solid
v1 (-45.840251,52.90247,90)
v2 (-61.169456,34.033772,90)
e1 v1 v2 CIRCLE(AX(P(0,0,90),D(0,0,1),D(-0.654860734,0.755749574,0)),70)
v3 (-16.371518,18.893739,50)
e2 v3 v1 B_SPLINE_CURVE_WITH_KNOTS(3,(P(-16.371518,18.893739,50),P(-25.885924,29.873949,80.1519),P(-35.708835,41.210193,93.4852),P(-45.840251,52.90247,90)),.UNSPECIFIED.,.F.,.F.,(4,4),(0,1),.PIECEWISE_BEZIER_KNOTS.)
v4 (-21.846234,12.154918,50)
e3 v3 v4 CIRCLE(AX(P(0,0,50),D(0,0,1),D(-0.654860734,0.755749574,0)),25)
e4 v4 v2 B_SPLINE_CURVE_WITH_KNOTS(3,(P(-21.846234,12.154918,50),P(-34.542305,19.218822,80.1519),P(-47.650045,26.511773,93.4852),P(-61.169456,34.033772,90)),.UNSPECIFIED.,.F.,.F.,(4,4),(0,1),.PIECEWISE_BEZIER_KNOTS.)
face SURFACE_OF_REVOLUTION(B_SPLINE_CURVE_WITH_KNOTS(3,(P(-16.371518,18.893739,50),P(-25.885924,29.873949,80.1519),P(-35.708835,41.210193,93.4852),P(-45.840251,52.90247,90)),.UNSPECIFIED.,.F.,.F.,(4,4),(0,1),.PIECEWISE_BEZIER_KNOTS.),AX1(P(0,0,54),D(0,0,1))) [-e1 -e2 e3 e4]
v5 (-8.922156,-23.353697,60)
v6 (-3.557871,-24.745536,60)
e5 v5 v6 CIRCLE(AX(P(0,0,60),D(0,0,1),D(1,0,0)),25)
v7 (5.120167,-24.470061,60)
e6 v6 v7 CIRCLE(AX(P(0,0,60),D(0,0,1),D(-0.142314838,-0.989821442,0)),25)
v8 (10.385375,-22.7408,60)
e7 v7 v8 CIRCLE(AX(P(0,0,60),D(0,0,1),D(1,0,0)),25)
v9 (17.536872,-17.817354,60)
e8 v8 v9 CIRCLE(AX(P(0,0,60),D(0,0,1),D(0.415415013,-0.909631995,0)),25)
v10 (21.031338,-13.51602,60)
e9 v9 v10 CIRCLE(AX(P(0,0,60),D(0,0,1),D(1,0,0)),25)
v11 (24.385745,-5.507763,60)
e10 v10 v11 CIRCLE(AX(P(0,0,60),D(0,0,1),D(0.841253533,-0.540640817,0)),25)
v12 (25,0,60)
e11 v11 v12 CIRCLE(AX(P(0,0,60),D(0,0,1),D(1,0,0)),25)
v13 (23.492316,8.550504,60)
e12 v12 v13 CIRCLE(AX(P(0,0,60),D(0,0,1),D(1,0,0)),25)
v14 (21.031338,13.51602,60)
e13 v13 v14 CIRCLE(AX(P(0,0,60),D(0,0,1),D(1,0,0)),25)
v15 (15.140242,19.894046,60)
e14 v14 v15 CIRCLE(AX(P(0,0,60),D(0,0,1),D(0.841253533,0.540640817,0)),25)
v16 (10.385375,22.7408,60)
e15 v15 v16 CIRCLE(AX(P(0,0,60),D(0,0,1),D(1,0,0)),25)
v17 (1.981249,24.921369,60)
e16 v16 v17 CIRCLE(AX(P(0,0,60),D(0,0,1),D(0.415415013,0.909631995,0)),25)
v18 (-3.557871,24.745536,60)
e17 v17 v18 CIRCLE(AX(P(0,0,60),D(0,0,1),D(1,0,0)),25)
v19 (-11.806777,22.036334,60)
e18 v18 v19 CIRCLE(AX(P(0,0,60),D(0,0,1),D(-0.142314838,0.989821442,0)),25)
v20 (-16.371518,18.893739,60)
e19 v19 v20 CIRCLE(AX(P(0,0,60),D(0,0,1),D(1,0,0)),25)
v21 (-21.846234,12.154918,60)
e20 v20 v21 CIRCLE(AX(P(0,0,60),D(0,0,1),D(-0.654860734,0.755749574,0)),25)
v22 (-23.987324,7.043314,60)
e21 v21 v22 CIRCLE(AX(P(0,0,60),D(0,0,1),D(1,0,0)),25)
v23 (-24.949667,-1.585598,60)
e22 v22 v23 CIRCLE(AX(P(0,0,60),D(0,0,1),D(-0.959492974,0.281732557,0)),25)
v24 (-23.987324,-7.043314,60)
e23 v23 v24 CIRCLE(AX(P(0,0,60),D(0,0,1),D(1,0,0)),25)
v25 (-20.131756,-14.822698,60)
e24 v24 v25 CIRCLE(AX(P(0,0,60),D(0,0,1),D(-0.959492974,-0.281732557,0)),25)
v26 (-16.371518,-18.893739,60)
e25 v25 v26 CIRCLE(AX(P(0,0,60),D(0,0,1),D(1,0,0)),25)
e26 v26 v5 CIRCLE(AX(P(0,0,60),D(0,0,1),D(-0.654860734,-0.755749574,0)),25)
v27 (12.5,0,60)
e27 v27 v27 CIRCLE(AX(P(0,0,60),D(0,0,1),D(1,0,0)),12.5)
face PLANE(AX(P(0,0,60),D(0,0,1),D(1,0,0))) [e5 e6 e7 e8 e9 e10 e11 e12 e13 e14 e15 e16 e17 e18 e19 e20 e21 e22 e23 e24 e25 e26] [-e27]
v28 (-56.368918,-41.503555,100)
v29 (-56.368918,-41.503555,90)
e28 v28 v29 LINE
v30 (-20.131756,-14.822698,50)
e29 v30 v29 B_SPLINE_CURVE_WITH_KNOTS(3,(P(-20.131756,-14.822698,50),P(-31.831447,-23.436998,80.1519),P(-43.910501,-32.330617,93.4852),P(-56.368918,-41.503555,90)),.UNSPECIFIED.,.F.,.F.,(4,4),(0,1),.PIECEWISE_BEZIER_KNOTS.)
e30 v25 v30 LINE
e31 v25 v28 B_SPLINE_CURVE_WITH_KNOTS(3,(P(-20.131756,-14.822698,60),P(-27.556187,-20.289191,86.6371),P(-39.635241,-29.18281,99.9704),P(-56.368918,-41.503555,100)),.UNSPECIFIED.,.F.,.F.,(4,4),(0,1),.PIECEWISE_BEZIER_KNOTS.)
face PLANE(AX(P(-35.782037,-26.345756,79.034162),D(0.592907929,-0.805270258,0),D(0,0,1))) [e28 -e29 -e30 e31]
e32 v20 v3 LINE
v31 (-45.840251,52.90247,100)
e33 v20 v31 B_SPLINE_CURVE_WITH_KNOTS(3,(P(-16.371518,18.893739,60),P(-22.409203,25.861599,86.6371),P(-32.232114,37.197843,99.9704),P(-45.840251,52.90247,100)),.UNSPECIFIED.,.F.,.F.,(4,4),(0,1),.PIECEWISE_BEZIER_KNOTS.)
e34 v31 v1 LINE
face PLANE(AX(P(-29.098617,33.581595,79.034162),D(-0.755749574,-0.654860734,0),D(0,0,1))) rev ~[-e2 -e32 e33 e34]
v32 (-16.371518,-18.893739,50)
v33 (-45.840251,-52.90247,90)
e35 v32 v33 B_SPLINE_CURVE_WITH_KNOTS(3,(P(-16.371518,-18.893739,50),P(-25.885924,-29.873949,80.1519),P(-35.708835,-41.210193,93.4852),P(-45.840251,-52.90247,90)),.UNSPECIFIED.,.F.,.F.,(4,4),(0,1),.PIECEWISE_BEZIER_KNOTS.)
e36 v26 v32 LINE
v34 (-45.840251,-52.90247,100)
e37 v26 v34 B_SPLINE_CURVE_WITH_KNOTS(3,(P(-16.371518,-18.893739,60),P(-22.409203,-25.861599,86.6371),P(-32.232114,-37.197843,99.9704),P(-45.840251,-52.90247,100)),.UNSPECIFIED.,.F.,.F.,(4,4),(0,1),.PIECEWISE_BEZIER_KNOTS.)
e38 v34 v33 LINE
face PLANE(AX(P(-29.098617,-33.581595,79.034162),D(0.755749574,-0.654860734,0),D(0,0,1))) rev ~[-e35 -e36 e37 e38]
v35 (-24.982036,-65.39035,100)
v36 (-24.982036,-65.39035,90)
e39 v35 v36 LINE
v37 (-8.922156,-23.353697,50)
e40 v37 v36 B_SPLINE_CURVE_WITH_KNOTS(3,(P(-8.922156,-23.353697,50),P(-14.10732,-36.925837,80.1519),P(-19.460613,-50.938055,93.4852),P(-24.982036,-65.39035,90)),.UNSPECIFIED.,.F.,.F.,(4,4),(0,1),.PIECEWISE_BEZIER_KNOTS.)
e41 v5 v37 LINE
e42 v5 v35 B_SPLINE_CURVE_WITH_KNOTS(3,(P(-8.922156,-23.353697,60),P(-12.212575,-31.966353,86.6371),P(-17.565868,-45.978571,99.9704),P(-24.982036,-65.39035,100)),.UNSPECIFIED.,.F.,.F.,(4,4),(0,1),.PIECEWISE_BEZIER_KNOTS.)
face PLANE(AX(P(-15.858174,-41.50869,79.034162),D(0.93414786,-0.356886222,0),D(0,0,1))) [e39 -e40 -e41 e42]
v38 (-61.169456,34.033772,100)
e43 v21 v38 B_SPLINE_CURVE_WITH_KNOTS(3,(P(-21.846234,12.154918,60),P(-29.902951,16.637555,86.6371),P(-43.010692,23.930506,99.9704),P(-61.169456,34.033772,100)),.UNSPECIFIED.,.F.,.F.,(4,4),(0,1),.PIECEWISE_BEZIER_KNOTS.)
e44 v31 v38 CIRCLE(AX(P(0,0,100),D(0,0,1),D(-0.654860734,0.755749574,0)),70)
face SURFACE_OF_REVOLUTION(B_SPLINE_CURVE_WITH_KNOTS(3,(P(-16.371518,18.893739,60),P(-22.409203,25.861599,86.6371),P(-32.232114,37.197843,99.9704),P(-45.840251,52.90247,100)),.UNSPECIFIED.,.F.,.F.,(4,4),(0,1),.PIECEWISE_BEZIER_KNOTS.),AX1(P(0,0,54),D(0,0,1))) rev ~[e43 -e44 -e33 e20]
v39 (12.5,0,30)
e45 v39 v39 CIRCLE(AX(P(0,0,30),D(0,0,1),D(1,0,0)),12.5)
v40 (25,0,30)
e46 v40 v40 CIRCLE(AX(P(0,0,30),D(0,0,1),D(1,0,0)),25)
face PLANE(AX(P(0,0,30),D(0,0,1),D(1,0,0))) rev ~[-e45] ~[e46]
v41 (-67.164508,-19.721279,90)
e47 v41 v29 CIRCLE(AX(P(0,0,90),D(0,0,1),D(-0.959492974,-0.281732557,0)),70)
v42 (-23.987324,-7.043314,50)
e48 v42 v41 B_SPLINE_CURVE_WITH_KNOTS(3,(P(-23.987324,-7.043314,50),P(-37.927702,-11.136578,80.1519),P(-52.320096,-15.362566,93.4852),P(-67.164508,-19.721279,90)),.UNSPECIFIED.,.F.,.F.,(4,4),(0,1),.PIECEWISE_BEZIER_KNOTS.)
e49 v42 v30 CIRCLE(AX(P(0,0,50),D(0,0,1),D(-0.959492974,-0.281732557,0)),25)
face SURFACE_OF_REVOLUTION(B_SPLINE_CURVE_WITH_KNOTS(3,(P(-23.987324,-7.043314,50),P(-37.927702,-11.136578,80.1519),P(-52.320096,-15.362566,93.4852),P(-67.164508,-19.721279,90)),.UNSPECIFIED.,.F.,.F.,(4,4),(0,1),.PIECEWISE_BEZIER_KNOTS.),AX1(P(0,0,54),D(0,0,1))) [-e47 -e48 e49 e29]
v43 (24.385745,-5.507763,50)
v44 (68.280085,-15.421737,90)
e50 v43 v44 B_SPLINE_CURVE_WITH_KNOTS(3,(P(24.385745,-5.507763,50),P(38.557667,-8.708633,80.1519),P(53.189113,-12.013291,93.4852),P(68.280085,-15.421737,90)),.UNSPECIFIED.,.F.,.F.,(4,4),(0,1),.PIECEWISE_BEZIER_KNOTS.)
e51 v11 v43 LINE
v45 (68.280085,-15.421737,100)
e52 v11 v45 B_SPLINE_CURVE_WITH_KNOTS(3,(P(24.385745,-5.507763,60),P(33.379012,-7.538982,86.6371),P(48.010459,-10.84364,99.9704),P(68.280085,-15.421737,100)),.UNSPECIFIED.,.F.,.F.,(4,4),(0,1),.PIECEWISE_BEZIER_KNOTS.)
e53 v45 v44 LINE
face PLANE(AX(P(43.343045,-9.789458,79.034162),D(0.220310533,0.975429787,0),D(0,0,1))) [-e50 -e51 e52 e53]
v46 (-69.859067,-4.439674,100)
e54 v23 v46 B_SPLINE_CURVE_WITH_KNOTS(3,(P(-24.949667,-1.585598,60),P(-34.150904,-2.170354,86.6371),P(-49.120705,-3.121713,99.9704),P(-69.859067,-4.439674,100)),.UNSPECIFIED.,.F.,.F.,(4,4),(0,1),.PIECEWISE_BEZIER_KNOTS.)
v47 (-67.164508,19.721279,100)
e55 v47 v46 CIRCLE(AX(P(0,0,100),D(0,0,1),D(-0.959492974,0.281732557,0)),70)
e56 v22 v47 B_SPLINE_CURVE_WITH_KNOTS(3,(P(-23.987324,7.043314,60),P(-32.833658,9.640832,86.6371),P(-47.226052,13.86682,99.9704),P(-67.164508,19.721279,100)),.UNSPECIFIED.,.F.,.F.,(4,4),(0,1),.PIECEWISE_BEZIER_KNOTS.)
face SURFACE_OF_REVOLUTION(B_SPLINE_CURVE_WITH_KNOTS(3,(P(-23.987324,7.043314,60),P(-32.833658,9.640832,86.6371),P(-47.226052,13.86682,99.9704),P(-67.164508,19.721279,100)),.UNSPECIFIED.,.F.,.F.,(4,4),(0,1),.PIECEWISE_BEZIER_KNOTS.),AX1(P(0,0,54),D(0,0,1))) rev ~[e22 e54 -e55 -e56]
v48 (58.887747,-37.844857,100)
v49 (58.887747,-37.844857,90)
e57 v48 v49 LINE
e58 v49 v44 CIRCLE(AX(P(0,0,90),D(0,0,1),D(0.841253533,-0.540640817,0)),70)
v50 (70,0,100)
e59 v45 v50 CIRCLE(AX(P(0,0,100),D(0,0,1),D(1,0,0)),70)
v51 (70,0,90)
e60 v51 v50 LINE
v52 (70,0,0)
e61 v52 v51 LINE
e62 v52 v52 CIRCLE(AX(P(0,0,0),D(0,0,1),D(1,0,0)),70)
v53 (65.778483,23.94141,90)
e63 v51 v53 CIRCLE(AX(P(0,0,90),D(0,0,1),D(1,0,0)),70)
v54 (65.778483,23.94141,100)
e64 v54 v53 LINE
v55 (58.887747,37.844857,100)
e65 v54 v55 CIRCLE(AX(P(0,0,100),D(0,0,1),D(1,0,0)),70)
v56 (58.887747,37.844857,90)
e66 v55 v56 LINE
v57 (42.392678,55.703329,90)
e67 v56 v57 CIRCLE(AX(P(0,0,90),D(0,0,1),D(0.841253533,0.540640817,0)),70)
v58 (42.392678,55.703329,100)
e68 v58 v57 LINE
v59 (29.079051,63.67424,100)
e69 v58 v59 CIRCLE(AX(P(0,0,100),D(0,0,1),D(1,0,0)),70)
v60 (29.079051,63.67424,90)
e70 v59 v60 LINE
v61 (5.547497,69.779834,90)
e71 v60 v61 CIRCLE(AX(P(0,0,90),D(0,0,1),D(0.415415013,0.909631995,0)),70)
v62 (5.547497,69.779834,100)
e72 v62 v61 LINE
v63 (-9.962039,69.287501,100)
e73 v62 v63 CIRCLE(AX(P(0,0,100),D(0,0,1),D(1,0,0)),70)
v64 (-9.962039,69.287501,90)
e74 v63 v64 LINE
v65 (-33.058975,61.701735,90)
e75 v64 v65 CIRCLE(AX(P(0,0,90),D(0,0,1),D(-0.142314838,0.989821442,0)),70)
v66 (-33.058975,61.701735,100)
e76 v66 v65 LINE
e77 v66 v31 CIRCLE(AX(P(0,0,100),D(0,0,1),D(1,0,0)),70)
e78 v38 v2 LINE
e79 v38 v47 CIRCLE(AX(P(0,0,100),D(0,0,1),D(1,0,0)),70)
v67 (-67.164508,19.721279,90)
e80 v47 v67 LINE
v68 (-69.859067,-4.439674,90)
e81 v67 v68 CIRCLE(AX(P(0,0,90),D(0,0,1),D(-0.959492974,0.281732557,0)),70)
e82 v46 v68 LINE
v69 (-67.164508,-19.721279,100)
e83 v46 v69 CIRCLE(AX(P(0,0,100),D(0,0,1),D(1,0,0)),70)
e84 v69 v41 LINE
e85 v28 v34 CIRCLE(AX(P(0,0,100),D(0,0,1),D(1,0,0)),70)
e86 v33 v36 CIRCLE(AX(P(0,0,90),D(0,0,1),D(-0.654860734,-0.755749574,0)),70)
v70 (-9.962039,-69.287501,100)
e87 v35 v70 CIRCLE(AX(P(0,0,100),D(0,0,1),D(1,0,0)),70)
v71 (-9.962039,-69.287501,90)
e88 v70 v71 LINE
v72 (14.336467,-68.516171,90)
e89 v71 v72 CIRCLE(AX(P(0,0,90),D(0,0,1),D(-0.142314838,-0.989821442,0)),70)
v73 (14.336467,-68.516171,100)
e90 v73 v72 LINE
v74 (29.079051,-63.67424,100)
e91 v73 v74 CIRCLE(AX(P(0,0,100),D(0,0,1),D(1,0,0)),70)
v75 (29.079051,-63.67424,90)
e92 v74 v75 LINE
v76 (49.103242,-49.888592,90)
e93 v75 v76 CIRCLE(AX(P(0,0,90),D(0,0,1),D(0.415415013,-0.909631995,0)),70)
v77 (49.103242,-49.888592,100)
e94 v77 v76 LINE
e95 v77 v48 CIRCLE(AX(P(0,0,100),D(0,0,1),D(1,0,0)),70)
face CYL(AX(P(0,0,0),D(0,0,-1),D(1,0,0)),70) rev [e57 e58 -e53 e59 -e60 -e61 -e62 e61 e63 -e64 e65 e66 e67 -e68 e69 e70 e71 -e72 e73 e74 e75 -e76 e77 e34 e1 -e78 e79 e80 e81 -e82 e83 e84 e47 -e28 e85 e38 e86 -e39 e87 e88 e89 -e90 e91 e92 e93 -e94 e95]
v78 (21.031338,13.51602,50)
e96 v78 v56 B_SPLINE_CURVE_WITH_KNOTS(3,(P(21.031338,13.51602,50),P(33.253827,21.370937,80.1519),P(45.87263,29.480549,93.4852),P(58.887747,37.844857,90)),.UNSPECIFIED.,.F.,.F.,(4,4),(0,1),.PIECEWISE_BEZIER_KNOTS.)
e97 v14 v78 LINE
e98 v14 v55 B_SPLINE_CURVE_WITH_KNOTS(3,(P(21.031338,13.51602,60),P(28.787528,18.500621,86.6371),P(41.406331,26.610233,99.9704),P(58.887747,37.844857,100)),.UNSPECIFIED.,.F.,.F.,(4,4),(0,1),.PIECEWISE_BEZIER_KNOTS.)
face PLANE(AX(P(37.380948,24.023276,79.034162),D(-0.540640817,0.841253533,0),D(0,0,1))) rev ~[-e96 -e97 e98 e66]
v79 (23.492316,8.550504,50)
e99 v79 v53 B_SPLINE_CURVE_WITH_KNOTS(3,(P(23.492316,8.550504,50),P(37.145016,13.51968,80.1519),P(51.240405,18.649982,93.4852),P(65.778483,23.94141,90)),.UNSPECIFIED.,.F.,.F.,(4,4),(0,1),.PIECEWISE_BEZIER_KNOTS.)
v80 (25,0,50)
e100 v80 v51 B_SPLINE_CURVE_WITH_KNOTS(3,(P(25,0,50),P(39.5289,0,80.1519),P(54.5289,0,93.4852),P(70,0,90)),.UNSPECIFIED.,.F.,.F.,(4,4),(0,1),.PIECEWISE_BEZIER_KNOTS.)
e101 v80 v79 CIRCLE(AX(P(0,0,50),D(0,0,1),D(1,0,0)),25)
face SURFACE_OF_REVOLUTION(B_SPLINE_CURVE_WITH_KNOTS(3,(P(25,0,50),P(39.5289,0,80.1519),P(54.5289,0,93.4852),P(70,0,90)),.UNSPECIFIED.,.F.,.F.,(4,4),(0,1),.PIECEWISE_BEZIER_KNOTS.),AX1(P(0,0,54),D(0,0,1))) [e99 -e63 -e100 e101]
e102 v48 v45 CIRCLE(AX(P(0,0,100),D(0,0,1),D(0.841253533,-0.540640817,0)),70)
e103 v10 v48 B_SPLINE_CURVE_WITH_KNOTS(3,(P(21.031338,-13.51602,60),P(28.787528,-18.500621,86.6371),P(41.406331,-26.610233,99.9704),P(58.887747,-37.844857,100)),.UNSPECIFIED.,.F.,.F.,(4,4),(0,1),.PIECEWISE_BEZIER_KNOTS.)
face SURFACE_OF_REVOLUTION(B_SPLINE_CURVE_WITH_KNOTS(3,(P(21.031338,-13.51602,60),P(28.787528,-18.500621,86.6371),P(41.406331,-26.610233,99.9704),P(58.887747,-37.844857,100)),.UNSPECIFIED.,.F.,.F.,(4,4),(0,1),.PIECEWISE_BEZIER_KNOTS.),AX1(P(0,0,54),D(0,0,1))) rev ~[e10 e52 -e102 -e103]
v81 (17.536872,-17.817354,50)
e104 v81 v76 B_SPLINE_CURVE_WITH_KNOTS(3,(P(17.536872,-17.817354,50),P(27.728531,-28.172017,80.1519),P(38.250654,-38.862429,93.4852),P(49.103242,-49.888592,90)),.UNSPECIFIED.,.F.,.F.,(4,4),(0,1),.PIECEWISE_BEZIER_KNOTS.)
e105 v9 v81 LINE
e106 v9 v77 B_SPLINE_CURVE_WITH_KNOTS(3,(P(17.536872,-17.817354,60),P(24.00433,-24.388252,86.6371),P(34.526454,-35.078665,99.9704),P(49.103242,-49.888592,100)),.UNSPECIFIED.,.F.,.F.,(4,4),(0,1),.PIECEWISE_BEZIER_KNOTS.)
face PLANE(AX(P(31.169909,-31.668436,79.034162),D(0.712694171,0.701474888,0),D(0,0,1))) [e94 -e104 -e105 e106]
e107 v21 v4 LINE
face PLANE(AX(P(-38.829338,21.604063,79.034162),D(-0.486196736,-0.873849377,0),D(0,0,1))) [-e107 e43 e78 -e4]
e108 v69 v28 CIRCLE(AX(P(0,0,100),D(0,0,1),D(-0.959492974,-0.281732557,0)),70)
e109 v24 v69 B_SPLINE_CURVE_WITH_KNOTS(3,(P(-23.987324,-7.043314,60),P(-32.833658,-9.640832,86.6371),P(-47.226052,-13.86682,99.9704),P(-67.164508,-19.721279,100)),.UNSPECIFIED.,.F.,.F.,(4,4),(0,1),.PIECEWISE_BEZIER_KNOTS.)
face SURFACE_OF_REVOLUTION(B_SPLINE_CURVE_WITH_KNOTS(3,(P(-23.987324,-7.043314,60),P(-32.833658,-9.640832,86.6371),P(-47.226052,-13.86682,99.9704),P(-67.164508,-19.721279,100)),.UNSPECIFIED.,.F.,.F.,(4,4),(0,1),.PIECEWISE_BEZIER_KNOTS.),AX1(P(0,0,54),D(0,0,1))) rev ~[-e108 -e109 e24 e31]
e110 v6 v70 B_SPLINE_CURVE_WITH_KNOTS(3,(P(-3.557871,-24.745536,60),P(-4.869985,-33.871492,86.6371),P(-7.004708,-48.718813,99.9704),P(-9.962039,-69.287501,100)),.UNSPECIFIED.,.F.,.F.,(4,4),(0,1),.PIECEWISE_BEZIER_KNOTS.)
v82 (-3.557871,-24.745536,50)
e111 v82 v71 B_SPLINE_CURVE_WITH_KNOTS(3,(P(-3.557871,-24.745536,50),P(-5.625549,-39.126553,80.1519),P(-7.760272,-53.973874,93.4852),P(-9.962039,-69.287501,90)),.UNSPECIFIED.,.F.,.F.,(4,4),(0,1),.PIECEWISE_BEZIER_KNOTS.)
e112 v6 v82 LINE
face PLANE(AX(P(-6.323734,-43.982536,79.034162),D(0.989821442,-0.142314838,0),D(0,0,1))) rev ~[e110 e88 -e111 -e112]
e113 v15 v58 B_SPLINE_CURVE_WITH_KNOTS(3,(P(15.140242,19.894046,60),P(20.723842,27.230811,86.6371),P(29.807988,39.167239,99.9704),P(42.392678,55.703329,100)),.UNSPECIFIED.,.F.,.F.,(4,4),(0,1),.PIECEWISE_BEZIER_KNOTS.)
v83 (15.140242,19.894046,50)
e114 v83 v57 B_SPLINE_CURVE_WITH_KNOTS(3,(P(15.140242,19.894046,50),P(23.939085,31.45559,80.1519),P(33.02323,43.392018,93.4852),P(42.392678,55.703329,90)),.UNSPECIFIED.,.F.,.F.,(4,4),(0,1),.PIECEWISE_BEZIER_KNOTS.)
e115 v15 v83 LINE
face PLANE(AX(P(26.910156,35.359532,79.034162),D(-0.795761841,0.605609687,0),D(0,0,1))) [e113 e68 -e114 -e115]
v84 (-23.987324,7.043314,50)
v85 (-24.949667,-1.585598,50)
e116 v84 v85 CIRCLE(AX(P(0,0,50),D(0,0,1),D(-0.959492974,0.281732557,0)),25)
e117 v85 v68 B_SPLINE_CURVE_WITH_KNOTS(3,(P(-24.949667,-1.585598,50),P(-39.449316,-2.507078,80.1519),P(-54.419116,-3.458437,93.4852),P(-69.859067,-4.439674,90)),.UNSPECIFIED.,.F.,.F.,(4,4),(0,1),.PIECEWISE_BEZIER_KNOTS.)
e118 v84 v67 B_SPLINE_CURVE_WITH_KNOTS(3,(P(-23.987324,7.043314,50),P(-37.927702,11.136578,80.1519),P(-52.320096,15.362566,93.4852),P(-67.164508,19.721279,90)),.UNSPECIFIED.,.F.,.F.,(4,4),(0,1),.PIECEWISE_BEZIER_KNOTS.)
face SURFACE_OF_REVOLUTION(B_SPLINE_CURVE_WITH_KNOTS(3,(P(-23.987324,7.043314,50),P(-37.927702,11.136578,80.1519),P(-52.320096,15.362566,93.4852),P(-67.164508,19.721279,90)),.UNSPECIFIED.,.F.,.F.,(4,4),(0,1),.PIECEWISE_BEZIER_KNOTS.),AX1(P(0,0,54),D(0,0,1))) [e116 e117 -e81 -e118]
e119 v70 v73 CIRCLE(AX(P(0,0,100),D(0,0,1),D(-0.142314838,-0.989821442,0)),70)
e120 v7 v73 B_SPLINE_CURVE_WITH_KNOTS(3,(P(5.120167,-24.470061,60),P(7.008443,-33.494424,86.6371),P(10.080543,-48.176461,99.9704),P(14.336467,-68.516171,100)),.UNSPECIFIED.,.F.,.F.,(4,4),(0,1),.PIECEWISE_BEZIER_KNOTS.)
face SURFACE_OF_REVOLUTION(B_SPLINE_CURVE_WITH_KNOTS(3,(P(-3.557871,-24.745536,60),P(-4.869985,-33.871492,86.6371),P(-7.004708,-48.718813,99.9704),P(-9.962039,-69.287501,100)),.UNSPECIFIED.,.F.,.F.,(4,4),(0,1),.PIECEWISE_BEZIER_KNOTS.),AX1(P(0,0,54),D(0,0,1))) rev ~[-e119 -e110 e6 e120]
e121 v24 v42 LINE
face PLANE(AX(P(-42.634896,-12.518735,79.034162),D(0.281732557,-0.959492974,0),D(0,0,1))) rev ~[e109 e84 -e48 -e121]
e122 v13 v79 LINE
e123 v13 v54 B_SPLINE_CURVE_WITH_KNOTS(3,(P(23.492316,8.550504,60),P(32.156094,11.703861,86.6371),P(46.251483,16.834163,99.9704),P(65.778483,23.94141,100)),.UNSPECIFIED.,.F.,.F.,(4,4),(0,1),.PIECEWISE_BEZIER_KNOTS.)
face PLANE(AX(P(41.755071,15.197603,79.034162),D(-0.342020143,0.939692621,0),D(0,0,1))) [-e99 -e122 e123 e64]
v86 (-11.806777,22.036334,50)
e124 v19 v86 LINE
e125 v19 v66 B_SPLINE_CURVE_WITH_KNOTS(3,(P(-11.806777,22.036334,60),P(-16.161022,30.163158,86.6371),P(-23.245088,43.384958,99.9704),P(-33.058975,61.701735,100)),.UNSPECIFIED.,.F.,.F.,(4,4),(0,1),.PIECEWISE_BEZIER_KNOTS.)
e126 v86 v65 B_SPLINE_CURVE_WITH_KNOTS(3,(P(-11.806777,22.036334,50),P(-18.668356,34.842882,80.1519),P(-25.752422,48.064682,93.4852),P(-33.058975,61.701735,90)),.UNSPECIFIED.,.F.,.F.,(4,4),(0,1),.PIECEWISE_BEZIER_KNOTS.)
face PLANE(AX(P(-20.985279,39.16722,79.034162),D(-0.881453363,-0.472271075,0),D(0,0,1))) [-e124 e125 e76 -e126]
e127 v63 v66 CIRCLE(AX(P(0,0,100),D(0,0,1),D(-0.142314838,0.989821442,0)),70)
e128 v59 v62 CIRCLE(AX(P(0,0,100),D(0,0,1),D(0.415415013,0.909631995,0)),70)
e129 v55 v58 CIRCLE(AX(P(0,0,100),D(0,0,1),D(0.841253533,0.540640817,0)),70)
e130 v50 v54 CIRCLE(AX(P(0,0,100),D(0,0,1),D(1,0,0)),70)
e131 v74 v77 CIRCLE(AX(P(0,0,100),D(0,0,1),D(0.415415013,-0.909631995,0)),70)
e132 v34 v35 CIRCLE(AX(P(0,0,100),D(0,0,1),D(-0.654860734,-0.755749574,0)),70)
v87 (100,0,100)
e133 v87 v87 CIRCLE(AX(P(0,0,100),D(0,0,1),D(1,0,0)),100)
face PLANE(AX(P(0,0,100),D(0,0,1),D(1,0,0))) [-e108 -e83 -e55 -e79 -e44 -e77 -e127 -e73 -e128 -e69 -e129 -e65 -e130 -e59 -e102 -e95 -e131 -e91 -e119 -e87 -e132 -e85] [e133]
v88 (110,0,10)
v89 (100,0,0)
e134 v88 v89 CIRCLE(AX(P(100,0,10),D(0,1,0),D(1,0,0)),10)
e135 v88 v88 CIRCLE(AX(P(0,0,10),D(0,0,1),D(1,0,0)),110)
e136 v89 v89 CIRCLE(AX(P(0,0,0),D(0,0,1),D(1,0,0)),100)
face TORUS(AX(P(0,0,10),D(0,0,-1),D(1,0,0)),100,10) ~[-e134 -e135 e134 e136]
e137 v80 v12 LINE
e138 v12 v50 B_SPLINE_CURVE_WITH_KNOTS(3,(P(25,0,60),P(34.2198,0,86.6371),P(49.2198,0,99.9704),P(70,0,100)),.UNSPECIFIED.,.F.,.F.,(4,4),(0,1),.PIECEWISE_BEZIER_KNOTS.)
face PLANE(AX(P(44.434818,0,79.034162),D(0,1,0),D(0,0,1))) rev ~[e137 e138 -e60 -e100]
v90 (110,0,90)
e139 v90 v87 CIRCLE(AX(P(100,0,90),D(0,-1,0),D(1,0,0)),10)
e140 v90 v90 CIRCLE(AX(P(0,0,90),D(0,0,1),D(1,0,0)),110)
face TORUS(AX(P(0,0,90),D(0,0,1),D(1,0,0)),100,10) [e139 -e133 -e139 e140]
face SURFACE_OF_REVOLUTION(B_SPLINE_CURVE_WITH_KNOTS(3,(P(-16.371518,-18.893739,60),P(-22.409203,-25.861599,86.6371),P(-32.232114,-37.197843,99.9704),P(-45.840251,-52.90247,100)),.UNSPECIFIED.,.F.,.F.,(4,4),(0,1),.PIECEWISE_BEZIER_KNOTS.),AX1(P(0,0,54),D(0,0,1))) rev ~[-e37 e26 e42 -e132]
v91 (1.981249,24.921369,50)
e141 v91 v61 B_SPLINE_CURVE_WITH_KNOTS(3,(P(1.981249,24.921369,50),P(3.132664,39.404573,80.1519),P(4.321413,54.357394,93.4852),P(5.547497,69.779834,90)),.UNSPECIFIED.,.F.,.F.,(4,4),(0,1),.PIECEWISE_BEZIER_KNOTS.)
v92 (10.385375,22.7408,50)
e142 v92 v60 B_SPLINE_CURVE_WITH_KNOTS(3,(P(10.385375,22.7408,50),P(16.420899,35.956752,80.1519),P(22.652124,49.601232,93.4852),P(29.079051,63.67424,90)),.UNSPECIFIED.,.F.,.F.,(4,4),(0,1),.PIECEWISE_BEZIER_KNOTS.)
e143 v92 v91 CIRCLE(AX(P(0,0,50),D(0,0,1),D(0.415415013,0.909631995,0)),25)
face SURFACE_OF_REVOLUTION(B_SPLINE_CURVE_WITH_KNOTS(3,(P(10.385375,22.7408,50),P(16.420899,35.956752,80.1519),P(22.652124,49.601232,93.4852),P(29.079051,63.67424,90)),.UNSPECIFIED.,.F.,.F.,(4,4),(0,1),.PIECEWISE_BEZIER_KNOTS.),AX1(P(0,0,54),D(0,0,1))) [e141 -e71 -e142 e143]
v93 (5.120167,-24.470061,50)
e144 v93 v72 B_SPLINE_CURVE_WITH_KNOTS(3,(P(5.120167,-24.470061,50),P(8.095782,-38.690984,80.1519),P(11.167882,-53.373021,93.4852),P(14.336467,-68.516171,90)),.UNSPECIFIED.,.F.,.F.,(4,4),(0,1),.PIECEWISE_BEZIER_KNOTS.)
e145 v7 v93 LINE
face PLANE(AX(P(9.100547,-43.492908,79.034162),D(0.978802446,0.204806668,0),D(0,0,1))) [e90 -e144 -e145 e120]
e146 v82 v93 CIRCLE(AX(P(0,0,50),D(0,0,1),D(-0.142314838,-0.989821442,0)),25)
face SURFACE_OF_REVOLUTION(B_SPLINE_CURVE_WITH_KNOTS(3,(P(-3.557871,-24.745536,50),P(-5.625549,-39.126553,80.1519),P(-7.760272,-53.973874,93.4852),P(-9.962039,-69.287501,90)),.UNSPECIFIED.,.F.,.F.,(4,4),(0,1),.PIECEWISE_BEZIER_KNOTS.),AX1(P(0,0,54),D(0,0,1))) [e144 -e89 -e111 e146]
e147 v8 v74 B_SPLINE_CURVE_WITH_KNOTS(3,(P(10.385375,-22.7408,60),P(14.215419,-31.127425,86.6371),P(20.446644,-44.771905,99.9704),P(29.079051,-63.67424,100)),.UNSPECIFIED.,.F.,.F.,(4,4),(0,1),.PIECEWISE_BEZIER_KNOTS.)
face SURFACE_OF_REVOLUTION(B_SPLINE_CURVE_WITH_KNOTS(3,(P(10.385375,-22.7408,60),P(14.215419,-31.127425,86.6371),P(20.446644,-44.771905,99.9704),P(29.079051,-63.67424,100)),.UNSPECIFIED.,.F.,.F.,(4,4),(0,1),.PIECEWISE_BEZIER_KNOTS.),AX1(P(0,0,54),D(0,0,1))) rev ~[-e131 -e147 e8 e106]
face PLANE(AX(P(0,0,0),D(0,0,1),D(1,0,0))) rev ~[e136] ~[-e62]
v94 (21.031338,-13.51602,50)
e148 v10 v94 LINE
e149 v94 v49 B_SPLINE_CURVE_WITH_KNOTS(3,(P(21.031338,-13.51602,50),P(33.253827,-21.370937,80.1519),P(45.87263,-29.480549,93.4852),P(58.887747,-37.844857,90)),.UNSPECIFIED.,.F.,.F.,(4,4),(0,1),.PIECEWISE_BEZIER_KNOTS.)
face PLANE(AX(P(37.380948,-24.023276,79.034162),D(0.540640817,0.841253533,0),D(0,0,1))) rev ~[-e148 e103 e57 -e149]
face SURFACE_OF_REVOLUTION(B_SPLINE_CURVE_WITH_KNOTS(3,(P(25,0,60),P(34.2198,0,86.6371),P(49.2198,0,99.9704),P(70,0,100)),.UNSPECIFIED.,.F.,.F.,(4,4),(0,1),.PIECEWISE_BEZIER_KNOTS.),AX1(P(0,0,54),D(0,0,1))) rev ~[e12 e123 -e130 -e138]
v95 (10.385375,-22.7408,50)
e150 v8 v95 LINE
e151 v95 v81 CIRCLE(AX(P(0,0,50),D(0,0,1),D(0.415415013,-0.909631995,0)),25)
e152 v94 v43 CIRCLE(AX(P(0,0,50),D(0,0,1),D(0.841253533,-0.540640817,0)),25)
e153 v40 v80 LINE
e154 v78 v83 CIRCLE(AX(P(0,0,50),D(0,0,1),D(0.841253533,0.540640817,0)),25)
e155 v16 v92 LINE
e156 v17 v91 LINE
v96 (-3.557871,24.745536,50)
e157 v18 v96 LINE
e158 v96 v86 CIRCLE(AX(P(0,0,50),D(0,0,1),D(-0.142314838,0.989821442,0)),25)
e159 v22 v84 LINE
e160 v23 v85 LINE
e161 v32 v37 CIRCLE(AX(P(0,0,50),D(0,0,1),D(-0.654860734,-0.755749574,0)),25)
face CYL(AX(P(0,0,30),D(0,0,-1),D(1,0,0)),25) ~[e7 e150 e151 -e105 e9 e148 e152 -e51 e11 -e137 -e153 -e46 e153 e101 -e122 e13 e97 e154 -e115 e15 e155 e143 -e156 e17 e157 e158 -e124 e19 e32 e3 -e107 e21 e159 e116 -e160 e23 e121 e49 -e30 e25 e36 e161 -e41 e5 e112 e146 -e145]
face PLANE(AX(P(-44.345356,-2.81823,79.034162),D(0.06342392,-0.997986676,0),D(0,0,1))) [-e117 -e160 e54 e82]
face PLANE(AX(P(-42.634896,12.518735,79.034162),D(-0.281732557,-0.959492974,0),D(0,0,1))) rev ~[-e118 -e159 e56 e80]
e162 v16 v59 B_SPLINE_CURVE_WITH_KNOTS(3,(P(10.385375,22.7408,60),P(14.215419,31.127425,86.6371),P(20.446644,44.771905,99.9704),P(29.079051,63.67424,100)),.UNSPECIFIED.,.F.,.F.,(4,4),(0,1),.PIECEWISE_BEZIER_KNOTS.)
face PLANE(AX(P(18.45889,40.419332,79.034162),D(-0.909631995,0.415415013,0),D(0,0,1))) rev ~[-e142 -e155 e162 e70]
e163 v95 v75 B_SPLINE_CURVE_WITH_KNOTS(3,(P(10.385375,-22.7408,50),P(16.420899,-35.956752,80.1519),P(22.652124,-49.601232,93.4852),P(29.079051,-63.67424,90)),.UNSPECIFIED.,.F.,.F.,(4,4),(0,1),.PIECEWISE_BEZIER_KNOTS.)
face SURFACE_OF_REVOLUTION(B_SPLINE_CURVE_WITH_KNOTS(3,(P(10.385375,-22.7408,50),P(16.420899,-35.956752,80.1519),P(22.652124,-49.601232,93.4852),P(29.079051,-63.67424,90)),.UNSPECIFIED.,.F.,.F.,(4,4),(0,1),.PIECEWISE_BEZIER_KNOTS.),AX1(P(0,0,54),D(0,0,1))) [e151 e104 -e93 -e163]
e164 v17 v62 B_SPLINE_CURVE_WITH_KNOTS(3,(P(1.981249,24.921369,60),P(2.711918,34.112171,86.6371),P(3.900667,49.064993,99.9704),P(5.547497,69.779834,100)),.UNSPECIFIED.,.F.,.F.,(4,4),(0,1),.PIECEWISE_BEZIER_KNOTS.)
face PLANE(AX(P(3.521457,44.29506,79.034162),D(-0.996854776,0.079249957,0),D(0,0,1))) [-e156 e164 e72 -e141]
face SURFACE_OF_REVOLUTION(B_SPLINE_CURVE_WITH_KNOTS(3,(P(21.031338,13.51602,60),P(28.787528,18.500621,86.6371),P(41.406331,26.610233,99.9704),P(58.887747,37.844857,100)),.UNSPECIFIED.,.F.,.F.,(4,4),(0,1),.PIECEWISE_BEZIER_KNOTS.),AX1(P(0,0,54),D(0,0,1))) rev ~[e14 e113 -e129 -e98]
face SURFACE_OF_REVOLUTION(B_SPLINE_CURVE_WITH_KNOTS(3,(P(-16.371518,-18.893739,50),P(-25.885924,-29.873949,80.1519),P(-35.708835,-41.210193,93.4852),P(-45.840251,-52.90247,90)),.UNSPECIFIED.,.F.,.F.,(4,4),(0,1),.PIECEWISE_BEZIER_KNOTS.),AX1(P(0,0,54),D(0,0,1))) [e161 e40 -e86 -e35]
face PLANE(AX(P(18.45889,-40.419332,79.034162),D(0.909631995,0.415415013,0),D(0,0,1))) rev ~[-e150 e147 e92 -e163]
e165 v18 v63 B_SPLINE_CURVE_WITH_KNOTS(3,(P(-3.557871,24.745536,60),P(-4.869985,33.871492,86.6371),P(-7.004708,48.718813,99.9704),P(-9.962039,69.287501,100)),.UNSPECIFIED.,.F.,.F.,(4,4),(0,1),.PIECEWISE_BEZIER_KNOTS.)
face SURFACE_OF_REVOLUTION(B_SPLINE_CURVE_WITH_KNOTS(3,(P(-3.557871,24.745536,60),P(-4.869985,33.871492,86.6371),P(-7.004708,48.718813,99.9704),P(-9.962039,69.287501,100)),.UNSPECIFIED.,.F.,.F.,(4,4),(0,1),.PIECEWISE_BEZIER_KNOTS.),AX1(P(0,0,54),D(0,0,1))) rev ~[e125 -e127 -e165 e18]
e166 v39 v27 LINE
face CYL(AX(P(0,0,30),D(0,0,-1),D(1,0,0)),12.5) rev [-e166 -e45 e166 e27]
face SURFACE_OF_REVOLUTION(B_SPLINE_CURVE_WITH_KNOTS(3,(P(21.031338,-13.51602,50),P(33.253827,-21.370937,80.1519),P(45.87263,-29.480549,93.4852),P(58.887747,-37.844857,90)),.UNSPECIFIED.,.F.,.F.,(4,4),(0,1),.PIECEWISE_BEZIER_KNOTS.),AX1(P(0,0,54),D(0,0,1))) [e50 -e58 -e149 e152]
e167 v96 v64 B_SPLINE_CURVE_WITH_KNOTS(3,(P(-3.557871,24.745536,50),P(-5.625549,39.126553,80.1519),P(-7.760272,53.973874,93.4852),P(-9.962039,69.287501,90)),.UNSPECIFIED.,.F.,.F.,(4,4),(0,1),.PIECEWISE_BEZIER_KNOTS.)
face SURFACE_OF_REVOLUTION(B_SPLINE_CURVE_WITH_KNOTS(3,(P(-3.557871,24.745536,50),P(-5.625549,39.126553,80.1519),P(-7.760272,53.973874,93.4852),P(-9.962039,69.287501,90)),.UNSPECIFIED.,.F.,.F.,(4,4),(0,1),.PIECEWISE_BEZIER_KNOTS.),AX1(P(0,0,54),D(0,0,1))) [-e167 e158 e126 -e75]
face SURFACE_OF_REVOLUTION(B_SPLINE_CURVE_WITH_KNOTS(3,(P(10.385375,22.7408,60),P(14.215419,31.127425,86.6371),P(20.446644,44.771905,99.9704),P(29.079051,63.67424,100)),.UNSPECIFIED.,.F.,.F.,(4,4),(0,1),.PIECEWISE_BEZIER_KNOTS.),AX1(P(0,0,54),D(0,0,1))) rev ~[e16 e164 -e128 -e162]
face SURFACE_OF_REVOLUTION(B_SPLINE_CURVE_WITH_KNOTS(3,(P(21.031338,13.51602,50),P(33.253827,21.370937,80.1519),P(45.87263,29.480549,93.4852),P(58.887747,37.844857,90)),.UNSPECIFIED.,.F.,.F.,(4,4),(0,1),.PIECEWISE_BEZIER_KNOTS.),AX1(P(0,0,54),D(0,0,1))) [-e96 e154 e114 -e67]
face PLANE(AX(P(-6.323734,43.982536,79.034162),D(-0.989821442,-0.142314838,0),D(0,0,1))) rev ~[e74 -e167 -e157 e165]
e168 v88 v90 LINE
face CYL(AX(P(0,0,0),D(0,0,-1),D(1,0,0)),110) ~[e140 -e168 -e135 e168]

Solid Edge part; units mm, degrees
sketch "Sketch1" plane through (0, 0, 0) normal (0, 0, 1) x (1, 0, 0)
  circle A0 centre (0, 0) radius 110
  circle A1 centre (0, 0) radius 70
  dimension "D1" = 220
  dimension "D2" = 140
extrude "Protrusion1" add sketch "Sketch1" along normal blind 100
fillet "Verrundung_1" radius 10 2 edges at (-110, 0, 100) (-110, 0, 0)
sketch "Sketch2" plane through (0, 0, 30) normal (0, 0, 1) x (1, 0, 0)
  circle A0 centre (0, 0) radius 25
  circle A1 centre (0, 0) radius 12.5
  dimension "D1" = 50
  dimension "D2" = 25
extrude "Extrusionsausprägung_2" add sketch "Sketch2" along normal blind 30
sketch "Sketch3" plane through (0, 0, 0) normal (0, -1, 0) x (1, 0, 0)
  line L0 (70, 100) -> (70, 90)
  spline S0 degree 3 poles (25, 50) (39.5289, 80.1519) (54.5289, 93.4852) (70, 90) knots 0 0 0 0 1 1 1 1
  line L1 (25, 60) -> (25, 50)
  spline S1 degree 3 poles (25, 60) (34.2198, 86.6371) (49.2198, 99.9704) (70, 100) knots 0 0 0 0 1 1 1 1
  dimension "D1" = 10
  dimension "D2" = 10
revolve "Rotationsausprägung_1" add sketch "Sketch3" angle 20 about axis through (0, 0, 54) along (0, 0, 1)
pattern_circular "Pattern1" count 11 over 360 about axis through (0, 0, 100) along (0, 0, 1) of "Rotationsausprägung_1"
